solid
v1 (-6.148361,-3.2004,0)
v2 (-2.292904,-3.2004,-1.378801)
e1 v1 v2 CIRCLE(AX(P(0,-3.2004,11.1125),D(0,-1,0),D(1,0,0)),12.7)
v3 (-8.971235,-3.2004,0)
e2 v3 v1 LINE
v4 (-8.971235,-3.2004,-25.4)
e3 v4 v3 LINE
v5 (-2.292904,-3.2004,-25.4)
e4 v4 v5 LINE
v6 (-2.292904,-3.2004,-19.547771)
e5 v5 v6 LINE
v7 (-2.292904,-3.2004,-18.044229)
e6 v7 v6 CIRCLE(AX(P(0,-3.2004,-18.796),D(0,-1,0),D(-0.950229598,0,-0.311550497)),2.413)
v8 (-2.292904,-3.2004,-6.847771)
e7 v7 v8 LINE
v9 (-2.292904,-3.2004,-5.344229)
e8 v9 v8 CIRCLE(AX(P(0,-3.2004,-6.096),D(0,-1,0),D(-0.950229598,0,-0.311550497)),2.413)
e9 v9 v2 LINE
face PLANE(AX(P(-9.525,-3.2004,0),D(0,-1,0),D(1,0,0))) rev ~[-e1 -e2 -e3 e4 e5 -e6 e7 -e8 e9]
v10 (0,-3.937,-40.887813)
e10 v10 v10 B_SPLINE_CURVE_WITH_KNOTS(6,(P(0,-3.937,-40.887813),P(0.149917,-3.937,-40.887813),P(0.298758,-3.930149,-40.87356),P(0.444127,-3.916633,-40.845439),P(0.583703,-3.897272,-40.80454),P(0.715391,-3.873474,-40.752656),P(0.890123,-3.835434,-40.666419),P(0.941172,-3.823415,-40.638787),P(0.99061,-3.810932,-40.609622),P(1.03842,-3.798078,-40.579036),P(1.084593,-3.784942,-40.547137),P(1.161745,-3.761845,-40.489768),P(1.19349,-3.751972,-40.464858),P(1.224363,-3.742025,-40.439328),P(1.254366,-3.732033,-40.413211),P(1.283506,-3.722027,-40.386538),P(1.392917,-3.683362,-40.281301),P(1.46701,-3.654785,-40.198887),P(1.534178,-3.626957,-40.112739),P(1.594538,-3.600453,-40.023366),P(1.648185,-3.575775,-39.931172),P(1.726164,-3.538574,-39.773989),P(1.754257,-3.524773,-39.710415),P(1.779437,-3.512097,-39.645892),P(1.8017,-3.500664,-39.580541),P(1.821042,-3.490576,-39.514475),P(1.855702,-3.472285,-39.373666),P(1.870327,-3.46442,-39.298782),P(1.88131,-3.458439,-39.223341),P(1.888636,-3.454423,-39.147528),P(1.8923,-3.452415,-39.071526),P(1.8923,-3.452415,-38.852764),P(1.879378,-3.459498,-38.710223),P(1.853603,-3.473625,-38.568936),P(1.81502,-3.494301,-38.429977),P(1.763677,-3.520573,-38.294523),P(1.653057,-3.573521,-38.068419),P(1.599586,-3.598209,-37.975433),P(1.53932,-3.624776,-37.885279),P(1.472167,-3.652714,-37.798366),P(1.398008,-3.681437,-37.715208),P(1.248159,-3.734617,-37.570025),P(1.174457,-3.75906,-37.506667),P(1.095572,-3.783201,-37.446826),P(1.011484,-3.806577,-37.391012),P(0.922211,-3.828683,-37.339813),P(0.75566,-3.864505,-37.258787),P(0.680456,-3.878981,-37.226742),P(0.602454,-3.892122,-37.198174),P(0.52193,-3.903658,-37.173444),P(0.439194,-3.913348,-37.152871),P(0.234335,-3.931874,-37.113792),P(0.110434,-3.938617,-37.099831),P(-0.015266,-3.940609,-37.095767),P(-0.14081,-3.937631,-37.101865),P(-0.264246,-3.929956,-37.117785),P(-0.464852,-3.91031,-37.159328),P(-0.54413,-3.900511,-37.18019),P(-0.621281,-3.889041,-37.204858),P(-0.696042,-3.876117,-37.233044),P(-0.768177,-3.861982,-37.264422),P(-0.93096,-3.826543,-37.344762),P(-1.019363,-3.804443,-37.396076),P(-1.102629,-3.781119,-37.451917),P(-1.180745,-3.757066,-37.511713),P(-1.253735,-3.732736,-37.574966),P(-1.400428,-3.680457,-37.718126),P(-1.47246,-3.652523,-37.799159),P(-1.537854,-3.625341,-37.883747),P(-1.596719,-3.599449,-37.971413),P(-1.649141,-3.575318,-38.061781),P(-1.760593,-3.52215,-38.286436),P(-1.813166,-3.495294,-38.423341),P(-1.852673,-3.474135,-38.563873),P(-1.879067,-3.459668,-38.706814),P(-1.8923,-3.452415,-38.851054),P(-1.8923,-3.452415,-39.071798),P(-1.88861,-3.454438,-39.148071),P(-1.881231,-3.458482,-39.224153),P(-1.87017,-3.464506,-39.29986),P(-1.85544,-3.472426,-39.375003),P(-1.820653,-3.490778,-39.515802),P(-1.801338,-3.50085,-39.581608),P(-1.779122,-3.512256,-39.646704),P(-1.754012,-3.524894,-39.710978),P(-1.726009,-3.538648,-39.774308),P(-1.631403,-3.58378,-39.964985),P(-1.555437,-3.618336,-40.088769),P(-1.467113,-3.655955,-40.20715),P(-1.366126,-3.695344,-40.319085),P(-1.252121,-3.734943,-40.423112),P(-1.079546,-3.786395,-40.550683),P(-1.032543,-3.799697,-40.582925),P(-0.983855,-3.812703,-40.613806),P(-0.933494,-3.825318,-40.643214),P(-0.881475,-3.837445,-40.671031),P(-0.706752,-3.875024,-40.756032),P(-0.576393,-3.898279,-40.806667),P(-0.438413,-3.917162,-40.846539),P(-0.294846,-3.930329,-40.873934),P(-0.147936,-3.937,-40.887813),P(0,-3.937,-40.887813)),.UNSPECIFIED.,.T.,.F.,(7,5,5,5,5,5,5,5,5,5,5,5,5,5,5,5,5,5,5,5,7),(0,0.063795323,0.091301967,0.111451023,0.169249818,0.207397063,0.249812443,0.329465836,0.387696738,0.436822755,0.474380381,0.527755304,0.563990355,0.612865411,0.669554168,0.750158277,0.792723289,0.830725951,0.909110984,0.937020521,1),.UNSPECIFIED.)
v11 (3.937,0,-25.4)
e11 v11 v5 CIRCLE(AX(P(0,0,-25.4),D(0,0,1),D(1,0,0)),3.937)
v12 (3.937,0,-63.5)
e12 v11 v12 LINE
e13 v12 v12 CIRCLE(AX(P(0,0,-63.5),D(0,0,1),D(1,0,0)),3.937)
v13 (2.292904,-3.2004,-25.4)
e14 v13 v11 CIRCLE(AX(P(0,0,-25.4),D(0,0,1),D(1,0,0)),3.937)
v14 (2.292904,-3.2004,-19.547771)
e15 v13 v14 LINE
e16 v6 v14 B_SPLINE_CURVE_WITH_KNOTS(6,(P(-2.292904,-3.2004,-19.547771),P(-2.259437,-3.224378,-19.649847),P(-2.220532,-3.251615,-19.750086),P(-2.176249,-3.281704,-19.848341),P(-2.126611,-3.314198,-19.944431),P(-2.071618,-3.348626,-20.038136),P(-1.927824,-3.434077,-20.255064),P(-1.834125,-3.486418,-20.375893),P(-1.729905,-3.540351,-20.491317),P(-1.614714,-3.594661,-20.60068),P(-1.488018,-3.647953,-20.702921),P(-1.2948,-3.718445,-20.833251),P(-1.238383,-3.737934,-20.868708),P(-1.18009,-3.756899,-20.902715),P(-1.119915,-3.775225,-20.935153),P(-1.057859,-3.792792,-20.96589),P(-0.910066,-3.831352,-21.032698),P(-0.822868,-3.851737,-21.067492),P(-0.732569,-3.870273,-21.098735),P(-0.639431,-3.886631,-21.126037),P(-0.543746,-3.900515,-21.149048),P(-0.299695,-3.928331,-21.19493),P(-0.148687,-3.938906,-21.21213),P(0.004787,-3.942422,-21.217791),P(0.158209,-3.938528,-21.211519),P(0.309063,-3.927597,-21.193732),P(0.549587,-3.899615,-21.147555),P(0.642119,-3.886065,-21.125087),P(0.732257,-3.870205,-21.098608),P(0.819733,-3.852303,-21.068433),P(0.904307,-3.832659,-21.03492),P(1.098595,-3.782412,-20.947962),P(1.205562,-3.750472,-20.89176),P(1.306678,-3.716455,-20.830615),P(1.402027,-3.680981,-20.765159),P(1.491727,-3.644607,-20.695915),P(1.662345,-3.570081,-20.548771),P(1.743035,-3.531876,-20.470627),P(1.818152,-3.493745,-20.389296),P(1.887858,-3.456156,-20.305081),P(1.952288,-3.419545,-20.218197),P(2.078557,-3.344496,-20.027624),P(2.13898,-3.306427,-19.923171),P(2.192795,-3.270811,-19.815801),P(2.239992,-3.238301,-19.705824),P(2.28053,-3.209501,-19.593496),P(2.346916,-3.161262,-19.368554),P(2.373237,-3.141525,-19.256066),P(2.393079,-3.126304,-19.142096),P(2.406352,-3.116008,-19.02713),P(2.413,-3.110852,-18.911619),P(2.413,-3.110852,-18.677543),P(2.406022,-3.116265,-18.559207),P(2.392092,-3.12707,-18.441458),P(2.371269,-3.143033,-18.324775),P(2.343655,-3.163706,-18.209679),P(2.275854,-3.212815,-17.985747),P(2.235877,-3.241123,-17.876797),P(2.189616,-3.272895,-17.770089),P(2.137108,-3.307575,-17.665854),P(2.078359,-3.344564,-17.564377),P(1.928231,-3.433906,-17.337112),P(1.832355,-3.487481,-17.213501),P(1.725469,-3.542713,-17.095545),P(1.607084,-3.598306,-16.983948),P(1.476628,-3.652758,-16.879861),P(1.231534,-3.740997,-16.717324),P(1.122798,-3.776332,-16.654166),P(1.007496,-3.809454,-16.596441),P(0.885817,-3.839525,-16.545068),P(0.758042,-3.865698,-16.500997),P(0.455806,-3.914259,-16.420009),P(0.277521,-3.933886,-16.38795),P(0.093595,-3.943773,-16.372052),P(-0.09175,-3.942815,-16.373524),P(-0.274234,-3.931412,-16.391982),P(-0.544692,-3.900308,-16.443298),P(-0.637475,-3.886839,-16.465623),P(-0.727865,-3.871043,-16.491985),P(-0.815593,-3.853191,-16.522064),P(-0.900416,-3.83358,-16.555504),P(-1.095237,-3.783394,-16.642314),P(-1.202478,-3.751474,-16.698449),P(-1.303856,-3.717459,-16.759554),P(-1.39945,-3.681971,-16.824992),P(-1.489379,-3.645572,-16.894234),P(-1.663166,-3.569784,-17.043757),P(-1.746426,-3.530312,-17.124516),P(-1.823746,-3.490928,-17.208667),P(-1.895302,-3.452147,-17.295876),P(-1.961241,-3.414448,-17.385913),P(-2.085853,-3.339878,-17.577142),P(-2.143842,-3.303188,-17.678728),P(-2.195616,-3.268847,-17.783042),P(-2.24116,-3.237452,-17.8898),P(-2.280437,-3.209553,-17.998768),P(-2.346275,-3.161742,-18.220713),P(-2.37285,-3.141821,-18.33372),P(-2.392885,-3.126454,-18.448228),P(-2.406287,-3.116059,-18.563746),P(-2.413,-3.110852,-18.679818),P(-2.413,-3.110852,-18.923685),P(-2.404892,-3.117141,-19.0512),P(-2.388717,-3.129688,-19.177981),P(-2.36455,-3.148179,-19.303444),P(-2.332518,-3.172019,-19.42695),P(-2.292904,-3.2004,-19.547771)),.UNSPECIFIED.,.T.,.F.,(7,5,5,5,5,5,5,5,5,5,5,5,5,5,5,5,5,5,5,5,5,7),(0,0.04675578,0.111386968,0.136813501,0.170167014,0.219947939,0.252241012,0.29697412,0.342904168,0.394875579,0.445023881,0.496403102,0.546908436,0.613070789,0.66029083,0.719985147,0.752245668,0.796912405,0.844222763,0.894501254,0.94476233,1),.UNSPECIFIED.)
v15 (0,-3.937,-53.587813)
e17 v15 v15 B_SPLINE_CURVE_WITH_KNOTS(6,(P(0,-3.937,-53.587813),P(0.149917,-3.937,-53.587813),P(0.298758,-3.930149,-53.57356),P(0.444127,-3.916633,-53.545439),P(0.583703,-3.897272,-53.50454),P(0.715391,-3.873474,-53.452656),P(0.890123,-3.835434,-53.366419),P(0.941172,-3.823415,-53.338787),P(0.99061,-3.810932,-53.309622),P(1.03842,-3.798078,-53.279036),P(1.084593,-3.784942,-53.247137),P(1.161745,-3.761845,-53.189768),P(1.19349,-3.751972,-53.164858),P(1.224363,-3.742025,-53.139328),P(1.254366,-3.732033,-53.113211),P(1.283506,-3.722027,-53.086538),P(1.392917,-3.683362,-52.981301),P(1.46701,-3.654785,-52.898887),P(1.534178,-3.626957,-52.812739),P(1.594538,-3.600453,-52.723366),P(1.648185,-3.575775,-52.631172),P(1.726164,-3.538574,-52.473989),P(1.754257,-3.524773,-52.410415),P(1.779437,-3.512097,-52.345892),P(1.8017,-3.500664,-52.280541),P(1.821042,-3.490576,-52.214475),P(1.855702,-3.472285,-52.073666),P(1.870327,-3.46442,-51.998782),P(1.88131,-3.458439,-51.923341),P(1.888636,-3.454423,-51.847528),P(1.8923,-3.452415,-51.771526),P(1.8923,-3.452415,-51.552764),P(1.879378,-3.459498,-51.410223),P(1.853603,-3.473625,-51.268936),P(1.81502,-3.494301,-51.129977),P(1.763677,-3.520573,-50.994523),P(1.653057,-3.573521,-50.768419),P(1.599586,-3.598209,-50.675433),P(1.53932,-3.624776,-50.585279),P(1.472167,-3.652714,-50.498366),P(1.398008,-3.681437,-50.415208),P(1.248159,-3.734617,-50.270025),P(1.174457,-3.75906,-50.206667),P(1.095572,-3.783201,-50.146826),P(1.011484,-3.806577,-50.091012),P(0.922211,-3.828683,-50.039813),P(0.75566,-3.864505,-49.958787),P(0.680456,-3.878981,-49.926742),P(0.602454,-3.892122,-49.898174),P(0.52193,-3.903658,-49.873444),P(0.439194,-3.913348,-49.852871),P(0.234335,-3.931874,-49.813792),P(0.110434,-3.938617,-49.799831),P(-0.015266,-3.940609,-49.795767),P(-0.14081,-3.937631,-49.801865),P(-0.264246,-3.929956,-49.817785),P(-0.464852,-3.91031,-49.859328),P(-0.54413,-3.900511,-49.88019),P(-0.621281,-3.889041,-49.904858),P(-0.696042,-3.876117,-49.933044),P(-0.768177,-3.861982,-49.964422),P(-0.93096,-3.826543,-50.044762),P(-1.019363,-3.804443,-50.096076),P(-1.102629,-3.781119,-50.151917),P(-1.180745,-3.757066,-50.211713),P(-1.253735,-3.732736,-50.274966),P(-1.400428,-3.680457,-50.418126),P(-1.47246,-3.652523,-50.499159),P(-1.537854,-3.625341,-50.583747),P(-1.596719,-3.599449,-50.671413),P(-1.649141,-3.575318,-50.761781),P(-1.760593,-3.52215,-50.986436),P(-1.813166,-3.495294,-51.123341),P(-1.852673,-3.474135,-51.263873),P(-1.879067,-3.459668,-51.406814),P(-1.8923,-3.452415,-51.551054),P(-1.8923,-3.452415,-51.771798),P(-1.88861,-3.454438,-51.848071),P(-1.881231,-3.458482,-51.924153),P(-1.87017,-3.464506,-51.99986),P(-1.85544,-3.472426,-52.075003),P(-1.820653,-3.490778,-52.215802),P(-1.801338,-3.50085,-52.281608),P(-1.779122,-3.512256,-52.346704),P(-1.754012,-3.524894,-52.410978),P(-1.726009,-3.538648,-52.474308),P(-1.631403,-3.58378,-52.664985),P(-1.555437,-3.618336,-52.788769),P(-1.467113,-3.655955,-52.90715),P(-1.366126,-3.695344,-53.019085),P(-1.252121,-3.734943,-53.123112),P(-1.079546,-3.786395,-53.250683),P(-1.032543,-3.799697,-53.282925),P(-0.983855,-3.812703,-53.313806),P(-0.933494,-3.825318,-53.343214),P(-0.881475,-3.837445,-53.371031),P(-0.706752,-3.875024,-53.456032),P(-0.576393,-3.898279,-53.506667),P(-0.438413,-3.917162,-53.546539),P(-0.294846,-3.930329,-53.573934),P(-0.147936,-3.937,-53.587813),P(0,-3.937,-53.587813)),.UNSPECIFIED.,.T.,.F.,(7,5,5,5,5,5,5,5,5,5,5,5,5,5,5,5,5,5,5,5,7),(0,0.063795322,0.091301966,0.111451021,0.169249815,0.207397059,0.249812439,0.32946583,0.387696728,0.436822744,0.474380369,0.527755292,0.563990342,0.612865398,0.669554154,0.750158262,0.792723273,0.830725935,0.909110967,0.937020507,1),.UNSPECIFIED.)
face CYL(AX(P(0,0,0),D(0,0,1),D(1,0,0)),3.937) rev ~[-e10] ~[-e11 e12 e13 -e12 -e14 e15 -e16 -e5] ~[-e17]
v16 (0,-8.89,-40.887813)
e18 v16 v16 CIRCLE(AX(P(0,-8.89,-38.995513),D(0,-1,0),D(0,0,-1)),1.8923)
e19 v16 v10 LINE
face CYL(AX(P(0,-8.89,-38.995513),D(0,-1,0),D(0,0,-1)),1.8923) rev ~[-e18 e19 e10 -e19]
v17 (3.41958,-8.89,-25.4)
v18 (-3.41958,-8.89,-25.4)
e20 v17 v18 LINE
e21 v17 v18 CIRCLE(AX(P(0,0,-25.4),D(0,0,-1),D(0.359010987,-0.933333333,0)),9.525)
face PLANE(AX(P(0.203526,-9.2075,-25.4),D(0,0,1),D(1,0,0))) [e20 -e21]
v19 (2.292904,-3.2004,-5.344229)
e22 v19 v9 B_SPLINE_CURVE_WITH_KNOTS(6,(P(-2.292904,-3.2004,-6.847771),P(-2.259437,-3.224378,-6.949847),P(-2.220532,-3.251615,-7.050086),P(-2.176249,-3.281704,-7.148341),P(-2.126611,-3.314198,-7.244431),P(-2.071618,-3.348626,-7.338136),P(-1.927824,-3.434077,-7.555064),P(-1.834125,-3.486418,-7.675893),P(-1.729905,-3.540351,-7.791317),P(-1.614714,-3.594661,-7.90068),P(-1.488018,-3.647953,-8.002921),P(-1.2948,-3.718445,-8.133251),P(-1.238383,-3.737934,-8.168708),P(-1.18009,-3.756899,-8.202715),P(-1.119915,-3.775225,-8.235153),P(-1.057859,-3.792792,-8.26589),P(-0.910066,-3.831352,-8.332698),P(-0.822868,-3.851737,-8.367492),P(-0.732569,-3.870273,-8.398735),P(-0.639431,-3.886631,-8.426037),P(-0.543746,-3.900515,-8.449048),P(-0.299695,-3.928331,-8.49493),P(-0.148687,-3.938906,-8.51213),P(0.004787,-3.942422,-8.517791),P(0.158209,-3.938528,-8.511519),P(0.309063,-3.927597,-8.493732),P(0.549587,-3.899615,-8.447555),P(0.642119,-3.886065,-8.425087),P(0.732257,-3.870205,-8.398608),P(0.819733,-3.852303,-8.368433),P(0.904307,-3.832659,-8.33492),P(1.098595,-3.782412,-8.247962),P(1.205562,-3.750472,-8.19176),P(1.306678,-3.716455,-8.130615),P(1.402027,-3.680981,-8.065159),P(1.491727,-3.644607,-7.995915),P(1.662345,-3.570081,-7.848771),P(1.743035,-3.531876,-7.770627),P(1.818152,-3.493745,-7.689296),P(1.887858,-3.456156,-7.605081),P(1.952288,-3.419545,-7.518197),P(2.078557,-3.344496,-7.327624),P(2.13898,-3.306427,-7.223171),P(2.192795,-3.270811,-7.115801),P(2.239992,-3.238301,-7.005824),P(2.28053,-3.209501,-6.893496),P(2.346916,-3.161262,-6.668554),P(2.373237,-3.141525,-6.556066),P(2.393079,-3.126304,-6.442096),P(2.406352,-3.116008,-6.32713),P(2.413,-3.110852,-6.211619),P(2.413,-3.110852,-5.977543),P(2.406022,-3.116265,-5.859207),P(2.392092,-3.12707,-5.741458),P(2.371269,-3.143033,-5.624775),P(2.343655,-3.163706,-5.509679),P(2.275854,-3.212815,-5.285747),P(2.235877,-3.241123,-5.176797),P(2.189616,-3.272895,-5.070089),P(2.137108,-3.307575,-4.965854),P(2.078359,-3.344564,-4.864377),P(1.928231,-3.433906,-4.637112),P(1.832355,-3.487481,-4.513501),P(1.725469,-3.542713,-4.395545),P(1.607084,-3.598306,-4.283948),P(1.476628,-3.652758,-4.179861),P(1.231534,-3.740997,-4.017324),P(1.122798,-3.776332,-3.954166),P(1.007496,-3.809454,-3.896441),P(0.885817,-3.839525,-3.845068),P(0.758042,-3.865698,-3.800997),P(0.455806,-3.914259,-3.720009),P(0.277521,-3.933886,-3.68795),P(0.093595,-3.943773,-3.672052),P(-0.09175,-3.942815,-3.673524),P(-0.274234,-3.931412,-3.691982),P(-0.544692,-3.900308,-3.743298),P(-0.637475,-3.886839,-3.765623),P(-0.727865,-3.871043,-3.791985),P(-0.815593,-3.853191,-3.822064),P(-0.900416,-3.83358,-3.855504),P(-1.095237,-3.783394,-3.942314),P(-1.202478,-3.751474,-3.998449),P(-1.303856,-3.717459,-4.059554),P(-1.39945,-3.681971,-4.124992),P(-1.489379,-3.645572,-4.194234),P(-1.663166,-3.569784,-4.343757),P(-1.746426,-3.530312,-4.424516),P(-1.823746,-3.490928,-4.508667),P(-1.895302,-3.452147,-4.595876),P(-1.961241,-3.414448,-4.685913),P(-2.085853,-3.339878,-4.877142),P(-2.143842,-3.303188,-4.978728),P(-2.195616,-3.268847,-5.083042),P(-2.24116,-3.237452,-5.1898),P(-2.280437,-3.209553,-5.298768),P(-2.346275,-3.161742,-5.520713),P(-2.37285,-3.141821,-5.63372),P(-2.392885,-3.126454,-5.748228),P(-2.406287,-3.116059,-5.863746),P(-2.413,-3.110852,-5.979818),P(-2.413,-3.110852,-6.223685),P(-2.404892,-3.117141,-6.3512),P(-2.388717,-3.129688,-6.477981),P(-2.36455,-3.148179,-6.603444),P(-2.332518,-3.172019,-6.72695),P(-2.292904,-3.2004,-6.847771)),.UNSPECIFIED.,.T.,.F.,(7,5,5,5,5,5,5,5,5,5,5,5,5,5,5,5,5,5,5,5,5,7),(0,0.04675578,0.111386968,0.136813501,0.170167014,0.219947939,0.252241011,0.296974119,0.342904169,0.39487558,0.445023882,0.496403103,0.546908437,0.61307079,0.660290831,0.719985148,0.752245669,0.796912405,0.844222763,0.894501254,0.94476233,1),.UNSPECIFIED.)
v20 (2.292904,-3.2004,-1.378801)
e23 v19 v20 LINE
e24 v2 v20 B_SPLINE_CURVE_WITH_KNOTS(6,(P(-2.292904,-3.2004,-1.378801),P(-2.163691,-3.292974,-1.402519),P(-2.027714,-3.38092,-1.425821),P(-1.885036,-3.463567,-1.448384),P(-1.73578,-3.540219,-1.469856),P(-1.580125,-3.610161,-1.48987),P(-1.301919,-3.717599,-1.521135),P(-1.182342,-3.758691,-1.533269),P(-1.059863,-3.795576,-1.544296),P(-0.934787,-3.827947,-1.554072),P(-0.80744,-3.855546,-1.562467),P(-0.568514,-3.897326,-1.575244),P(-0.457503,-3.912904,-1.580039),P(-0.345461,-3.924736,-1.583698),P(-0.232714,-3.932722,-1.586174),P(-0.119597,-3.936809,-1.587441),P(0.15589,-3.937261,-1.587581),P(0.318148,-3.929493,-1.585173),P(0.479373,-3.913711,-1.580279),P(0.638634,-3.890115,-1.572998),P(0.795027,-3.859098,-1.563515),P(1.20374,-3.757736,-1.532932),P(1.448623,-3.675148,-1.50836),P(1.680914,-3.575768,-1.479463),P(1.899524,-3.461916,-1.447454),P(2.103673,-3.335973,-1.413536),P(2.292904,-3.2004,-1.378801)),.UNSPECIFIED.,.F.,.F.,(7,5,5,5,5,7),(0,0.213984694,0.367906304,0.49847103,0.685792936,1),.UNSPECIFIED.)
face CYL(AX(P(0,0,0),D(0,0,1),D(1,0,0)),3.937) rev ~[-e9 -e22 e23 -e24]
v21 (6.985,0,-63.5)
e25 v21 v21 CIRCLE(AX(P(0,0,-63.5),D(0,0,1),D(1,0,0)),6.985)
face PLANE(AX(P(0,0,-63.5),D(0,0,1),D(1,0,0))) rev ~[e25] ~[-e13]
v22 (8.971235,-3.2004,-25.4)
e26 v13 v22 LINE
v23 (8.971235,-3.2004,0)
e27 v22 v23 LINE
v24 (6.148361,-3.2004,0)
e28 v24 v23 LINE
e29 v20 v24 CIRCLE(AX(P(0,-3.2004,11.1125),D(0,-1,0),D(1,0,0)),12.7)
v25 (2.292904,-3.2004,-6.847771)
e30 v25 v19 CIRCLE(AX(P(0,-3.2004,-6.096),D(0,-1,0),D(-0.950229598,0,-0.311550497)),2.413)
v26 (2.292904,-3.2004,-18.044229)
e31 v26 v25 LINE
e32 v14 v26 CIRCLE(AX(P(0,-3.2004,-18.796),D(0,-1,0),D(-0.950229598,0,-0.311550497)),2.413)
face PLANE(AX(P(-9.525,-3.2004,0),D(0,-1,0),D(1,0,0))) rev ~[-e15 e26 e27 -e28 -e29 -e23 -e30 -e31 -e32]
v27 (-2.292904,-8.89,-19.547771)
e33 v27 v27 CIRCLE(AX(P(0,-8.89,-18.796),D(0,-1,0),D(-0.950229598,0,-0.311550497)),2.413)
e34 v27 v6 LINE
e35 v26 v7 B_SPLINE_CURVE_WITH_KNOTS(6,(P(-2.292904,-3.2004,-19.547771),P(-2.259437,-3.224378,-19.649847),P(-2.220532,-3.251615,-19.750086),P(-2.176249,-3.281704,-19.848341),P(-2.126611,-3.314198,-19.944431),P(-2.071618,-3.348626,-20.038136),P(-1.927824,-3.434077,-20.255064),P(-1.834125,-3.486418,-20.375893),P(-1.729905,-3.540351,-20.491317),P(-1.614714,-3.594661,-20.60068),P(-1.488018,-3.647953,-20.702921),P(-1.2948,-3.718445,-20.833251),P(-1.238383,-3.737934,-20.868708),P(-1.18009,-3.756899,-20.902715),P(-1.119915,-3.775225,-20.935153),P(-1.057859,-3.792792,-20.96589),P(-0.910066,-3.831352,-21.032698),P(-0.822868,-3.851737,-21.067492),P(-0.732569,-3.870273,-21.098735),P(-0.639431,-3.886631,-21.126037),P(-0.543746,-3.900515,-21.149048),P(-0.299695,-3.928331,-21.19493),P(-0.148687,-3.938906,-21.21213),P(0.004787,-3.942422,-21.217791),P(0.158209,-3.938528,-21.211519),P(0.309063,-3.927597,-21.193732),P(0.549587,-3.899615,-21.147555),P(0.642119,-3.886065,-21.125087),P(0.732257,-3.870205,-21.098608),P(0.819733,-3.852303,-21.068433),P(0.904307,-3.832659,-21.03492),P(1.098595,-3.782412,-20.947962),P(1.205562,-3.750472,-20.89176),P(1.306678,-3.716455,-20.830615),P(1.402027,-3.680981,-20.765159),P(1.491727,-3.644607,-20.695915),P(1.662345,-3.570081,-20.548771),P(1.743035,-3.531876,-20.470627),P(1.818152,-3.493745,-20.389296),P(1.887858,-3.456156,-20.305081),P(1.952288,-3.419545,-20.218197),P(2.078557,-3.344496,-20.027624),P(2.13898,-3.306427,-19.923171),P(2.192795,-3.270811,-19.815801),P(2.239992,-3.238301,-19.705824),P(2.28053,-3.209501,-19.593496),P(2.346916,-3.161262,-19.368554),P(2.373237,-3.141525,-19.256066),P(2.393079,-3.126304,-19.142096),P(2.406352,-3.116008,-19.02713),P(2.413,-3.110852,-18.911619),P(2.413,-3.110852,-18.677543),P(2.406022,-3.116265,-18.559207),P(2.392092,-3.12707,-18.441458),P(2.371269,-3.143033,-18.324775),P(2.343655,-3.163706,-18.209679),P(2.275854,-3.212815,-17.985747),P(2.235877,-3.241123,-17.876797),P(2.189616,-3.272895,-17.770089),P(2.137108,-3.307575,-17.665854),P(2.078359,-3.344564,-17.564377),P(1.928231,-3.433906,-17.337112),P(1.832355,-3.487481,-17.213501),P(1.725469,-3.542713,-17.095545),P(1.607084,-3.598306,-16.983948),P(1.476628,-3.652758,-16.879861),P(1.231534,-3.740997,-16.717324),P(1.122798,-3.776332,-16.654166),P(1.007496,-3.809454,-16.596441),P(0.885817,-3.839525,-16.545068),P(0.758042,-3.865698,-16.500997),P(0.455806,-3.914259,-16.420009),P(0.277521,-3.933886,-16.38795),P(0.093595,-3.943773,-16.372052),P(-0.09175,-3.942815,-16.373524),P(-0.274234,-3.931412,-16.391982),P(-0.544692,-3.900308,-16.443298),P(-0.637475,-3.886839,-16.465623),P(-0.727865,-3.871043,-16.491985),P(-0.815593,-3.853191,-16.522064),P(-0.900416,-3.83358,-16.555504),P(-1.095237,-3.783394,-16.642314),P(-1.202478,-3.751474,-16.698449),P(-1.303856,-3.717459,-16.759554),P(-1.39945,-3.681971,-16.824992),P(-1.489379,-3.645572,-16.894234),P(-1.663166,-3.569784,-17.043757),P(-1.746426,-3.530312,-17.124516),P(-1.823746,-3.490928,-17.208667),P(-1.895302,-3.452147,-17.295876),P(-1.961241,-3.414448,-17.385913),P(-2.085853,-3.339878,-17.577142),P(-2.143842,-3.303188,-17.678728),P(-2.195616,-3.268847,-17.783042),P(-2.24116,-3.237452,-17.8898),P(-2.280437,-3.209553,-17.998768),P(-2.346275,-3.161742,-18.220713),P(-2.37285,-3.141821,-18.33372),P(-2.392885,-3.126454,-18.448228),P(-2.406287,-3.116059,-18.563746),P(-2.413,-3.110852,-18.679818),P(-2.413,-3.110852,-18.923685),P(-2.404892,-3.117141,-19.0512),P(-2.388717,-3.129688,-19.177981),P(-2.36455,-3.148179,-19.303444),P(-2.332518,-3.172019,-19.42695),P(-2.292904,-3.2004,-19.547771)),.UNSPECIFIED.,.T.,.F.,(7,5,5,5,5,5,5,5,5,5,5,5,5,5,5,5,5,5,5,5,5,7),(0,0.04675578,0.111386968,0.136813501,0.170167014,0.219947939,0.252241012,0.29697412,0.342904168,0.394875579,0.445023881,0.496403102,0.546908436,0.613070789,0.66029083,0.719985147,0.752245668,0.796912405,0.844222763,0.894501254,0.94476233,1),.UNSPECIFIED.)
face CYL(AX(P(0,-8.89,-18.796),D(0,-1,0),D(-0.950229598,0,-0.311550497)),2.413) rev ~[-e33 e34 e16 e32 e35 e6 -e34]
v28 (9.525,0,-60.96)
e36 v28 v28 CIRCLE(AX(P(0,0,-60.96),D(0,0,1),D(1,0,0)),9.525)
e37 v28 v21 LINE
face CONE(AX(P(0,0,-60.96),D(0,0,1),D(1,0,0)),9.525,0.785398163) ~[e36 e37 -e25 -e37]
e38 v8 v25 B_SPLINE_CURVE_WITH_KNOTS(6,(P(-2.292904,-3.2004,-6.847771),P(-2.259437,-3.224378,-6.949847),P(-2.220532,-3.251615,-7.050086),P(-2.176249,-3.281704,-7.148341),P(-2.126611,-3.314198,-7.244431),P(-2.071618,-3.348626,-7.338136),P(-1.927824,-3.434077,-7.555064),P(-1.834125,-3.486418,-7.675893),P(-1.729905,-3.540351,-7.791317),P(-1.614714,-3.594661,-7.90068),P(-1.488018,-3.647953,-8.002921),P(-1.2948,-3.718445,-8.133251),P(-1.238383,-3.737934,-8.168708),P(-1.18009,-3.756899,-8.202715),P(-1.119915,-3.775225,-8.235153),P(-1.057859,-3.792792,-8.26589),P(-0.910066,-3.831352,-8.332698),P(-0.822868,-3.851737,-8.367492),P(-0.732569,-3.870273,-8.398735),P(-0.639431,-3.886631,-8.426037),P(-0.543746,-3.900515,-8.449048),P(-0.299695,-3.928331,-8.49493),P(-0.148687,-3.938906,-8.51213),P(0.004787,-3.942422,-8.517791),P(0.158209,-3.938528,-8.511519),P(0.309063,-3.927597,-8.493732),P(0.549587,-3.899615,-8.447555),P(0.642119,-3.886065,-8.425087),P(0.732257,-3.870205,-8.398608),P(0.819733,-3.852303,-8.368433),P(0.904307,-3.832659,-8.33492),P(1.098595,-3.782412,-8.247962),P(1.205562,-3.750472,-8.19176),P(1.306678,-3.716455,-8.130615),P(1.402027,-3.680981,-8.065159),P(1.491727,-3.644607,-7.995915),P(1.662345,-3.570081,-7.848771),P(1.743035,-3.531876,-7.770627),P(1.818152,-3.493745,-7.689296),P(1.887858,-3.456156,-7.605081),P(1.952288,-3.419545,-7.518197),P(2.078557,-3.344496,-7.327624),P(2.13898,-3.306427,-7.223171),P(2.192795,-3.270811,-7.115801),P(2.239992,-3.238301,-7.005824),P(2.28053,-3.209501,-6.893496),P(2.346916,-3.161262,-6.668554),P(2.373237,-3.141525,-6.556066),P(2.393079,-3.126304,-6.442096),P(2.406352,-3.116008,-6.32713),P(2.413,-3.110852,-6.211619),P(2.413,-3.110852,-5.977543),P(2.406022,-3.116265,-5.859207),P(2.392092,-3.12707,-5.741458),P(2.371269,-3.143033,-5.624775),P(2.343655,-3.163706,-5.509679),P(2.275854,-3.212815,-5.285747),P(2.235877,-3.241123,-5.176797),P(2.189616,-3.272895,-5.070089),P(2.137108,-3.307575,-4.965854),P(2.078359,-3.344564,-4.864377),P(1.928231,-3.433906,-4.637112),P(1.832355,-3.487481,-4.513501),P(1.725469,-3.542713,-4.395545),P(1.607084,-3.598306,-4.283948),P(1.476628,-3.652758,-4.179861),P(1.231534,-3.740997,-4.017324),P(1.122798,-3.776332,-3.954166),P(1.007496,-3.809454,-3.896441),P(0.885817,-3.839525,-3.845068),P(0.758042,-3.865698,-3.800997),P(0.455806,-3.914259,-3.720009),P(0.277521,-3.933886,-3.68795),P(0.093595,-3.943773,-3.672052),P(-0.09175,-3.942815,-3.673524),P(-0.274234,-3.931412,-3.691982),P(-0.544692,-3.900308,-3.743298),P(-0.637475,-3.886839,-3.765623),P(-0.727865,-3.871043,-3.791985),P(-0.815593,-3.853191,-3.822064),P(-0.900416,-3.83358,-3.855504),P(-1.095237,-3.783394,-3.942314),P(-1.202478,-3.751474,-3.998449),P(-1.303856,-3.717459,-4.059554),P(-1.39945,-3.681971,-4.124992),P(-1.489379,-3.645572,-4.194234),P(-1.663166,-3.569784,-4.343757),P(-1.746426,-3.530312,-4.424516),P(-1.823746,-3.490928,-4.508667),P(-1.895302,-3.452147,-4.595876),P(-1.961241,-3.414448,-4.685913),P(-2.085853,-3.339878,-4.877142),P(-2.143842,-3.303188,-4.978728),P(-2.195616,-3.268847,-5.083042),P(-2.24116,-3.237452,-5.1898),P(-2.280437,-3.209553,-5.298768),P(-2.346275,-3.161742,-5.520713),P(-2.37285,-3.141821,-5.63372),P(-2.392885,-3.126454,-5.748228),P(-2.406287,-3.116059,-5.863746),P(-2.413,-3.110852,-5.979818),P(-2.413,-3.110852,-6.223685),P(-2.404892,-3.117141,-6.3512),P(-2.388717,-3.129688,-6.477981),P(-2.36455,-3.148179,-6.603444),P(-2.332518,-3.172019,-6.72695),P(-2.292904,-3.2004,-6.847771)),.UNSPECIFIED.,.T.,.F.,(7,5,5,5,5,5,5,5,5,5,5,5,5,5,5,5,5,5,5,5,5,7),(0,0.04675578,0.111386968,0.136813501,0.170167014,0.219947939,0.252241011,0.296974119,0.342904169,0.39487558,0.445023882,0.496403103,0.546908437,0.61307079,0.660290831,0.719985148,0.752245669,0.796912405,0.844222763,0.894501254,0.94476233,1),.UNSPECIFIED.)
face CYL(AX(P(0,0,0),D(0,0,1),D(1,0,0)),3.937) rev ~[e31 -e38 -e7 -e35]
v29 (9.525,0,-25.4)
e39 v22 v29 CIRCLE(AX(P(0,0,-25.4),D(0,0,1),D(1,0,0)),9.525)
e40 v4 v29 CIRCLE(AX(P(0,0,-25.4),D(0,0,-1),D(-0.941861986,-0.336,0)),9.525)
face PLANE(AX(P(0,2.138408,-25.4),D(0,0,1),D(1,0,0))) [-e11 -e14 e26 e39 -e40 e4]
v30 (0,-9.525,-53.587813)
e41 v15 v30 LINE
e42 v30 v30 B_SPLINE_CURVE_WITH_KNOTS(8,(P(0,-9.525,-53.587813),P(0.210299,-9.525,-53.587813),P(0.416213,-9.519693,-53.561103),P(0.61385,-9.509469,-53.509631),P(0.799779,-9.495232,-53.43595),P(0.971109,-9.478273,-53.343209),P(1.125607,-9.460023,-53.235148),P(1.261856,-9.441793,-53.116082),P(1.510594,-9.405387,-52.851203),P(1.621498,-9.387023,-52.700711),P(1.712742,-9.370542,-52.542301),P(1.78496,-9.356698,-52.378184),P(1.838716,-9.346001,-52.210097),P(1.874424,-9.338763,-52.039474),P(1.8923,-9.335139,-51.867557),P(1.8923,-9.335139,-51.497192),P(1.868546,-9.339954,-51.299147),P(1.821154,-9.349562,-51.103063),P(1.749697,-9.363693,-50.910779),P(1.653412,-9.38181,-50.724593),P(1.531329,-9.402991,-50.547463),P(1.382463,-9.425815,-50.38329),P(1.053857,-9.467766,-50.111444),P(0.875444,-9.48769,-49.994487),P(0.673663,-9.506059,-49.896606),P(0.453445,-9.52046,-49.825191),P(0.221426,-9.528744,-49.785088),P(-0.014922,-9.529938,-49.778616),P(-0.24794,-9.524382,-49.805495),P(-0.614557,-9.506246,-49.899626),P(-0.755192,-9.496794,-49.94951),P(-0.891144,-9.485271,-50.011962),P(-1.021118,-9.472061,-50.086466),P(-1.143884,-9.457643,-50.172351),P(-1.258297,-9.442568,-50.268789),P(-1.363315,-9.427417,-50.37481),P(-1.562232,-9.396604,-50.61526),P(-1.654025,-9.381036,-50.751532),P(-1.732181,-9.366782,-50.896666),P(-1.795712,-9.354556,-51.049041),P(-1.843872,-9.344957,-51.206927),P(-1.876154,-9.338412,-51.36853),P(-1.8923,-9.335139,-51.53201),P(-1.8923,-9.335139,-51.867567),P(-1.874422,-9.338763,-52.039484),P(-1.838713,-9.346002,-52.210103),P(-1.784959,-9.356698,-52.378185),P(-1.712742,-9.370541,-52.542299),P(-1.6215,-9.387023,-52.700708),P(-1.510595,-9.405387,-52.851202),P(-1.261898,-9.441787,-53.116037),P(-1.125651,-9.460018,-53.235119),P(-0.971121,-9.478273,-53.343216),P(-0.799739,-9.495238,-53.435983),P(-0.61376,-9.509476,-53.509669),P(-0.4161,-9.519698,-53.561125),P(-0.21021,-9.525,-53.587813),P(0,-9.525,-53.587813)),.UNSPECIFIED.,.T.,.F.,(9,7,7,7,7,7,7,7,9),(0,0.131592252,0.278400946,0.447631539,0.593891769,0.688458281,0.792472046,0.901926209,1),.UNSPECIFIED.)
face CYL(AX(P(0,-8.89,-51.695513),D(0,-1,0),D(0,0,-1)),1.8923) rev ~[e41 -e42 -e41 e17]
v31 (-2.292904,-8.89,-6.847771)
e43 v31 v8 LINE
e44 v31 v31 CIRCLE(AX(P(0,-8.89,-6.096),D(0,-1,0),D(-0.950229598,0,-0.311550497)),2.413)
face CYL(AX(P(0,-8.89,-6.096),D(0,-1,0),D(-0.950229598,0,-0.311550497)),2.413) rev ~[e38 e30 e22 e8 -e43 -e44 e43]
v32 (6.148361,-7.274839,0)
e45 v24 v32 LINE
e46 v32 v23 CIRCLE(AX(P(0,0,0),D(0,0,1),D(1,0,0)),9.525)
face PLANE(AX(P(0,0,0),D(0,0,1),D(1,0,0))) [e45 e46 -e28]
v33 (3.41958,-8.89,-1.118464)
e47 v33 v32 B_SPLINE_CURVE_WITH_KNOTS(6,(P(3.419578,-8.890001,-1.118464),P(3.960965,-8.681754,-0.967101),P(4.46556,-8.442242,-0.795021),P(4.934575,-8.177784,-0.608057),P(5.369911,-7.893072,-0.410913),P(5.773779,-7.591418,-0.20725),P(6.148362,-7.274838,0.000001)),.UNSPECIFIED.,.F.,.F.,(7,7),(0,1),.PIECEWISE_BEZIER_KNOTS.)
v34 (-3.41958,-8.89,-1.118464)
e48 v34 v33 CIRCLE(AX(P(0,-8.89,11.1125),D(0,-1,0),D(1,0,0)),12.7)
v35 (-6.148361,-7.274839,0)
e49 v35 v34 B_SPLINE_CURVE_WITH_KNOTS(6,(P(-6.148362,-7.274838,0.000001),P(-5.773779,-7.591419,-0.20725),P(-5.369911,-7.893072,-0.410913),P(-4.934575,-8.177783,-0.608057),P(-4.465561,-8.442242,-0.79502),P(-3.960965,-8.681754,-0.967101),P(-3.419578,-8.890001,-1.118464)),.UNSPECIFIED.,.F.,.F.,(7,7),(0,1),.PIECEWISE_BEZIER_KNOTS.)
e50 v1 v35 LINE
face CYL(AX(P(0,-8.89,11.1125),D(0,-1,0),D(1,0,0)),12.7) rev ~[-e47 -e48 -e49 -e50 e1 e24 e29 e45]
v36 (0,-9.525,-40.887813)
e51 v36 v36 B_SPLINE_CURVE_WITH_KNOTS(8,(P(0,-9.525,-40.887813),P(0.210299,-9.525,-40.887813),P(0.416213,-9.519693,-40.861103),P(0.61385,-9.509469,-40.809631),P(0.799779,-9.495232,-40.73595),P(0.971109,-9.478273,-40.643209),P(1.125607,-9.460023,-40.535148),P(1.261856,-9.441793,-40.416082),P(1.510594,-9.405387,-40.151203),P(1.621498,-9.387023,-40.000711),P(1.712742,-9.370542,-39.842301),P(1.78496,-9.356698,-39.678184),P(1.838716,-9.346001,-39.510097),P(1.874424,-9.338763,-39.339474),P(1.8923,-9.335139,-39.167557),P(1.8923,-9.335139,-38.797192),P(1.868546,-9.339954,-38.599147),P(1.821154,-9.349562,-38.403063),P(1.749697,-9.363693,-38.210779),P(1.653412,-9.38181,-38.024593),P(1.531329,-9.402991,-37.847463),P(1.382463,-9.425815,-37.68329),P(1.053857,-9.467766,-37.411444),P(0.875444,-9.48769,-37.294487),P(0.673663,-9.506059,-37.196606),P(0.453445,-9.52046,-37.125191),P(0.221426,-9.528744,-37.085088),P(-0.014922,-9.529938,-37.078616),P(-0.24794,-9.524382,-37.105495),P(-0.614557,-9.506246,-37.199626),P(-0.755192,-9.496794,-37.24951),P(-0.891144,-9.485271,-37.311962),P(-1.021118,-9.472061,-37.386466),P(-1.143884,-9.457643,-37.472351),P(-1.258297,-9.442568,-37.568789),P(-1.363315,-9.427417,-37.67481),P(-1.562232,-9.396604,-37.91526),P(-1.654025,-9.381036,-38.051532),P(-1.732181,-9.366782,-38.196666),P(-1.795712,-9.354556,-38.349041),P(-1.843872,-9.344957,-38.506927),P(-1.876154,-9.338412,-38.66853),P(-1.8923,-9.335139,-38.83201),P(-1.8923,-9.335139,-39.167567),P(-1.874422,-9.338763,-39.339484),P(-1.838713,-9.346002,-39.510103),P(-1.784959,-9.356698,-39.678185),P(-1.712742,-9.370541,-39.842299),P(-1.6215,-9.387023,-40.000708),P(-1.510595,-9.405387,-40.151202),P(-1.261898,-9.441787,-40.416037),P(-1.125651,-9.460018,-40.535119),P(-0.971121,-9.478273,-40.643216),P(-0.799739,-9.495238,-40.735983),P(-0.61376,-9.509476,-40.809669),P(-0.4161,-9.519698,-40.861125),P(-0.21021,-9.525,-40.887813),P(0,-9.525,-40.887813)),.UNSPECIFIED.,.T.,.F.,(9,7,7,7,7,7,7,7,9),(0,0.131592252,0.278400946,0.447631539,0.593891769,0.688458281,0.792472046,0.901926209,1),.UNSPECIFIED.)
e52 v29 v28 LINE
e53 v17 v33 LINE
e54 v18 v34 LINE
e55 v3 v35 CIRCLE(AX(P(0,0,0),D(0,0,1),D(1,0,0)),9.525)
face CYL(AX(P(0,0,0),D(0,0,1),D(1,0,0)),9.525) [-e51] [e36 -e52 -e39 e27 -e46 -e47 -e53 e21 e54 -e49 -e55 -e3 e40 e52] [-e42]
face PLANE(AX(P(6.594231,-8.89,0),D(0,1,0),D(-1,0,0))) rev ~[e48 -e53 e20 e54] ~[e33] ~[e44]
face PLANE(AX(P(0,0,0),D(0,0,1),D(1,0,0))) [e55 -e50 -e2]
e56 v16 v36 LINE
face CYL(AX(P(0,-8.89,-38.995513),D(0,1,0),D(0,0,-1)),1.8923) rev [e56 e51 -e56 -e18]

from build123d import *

# Parameters (mm, degrees)
SKETCH1_R          = 9.525
SKETCH1_R_2        = 3.937
EXTRUDE1_DEPTH     = 63.5
CUT_EXTRUDE1_DEPTH = 25.4
CUT_EXTRUDE2_DEPTH = 25.4
SKETCH4_R          = 2.413
SKETCH4_R_2        = 1.8923
CUT_EXTRUDE3_DEPTH = 6.35
CHAMFER2_SIZE      = 2.54
SKETCH5_R          = 12.7
CUT_EXTRUDE4_DEPTH = 67.79886128


with BuildPart() as part:
    # Sketch1 → Extrude1 (new body)
    with BuildSketch(Plane.XY):
        Circle(SKETCH1_R)
        Circle(SKETCH1_R_2, mode=Mode.SUBTRACT)
    extrude(amount=-EXTRUDE1_DEPTH)

    # Sketch2 → Cut-Extrude1 (cut)
    with BuildSketch(Plane.XY):
        with BuildLine():
            Line((-9.525, -3.2004), (9.525, -3.2004))
            Line((9.525, -3.2004), (9.525, 3.2004))
            ThreePointArc((9.525, 3.2004), (0, 10.329891018), (-9.525, 3.2004))
            Line((-9.525, 3.2004), (-9.525, -3.2004))
        make_face()
    extrude(amount=-CUT_EXTRUDE1_DEPTH, mode=Mode.SUBTRACT)

    # Sketch3 → Cut-Extrude2 (cut)
    with BuildSketch(Plane.XY):
        Polygon((0, -9.525), (6.594230769, -9.525), (6.594230769, -8.89), (-6.187179487, -8.89), (-6.187179487, -9.525), align=None)
    extrude(amount=-CUT_EXTRUDE2_DEPTH, mode=Mode.SUBTRACT)

    # Sketch4 → Cut-Extrude3 (cut, symmetric)
    with BuildSketch(Plane.XZ.offset(8.89)):
        with Locations(Location((0, -6.096, 0), (0, 0, 198.152695479))):
            Circle(SKETCH4_R)
        with Locations(Location((0, -18.796, 0), (0, 0, 198.152695479))):
            Circle(SKETCH4_R)
        with Locations(Location((0, -38.995512821, 0), (0, 0, 270))):
            Circle(SKETCH4_R_2)
        with Locations(Location((0, -51.695512821, 0), (0, 0, 270))):
            Circle(SKETCH4_R_2)
    extrude(amount=CUT_EXTRUDE3_DEPTH, both=True, mode=Mode.SUBTRACT)

    # Chamfer2
    chamfer2_edges = [part.edges().sort_by_distance(p)[0] for p in [
        (-9.525, 0, -63.5),
    ]]
    chamfer(chamfer2_edges, length=CHAMFER2_SIZE)

    # Sketch5 → Cut-Extrude4 (cut, through all)
    with BuildSketch(Plane.XZ.offset(8.89)):
        with Locations((0, 11.1125)):
            Circle(SKETCH5_R)
    extrude(amount=-CUT_EXTRUDE4_DEPTH, mode=Mode.SUBTRACT)


solid = part.part
